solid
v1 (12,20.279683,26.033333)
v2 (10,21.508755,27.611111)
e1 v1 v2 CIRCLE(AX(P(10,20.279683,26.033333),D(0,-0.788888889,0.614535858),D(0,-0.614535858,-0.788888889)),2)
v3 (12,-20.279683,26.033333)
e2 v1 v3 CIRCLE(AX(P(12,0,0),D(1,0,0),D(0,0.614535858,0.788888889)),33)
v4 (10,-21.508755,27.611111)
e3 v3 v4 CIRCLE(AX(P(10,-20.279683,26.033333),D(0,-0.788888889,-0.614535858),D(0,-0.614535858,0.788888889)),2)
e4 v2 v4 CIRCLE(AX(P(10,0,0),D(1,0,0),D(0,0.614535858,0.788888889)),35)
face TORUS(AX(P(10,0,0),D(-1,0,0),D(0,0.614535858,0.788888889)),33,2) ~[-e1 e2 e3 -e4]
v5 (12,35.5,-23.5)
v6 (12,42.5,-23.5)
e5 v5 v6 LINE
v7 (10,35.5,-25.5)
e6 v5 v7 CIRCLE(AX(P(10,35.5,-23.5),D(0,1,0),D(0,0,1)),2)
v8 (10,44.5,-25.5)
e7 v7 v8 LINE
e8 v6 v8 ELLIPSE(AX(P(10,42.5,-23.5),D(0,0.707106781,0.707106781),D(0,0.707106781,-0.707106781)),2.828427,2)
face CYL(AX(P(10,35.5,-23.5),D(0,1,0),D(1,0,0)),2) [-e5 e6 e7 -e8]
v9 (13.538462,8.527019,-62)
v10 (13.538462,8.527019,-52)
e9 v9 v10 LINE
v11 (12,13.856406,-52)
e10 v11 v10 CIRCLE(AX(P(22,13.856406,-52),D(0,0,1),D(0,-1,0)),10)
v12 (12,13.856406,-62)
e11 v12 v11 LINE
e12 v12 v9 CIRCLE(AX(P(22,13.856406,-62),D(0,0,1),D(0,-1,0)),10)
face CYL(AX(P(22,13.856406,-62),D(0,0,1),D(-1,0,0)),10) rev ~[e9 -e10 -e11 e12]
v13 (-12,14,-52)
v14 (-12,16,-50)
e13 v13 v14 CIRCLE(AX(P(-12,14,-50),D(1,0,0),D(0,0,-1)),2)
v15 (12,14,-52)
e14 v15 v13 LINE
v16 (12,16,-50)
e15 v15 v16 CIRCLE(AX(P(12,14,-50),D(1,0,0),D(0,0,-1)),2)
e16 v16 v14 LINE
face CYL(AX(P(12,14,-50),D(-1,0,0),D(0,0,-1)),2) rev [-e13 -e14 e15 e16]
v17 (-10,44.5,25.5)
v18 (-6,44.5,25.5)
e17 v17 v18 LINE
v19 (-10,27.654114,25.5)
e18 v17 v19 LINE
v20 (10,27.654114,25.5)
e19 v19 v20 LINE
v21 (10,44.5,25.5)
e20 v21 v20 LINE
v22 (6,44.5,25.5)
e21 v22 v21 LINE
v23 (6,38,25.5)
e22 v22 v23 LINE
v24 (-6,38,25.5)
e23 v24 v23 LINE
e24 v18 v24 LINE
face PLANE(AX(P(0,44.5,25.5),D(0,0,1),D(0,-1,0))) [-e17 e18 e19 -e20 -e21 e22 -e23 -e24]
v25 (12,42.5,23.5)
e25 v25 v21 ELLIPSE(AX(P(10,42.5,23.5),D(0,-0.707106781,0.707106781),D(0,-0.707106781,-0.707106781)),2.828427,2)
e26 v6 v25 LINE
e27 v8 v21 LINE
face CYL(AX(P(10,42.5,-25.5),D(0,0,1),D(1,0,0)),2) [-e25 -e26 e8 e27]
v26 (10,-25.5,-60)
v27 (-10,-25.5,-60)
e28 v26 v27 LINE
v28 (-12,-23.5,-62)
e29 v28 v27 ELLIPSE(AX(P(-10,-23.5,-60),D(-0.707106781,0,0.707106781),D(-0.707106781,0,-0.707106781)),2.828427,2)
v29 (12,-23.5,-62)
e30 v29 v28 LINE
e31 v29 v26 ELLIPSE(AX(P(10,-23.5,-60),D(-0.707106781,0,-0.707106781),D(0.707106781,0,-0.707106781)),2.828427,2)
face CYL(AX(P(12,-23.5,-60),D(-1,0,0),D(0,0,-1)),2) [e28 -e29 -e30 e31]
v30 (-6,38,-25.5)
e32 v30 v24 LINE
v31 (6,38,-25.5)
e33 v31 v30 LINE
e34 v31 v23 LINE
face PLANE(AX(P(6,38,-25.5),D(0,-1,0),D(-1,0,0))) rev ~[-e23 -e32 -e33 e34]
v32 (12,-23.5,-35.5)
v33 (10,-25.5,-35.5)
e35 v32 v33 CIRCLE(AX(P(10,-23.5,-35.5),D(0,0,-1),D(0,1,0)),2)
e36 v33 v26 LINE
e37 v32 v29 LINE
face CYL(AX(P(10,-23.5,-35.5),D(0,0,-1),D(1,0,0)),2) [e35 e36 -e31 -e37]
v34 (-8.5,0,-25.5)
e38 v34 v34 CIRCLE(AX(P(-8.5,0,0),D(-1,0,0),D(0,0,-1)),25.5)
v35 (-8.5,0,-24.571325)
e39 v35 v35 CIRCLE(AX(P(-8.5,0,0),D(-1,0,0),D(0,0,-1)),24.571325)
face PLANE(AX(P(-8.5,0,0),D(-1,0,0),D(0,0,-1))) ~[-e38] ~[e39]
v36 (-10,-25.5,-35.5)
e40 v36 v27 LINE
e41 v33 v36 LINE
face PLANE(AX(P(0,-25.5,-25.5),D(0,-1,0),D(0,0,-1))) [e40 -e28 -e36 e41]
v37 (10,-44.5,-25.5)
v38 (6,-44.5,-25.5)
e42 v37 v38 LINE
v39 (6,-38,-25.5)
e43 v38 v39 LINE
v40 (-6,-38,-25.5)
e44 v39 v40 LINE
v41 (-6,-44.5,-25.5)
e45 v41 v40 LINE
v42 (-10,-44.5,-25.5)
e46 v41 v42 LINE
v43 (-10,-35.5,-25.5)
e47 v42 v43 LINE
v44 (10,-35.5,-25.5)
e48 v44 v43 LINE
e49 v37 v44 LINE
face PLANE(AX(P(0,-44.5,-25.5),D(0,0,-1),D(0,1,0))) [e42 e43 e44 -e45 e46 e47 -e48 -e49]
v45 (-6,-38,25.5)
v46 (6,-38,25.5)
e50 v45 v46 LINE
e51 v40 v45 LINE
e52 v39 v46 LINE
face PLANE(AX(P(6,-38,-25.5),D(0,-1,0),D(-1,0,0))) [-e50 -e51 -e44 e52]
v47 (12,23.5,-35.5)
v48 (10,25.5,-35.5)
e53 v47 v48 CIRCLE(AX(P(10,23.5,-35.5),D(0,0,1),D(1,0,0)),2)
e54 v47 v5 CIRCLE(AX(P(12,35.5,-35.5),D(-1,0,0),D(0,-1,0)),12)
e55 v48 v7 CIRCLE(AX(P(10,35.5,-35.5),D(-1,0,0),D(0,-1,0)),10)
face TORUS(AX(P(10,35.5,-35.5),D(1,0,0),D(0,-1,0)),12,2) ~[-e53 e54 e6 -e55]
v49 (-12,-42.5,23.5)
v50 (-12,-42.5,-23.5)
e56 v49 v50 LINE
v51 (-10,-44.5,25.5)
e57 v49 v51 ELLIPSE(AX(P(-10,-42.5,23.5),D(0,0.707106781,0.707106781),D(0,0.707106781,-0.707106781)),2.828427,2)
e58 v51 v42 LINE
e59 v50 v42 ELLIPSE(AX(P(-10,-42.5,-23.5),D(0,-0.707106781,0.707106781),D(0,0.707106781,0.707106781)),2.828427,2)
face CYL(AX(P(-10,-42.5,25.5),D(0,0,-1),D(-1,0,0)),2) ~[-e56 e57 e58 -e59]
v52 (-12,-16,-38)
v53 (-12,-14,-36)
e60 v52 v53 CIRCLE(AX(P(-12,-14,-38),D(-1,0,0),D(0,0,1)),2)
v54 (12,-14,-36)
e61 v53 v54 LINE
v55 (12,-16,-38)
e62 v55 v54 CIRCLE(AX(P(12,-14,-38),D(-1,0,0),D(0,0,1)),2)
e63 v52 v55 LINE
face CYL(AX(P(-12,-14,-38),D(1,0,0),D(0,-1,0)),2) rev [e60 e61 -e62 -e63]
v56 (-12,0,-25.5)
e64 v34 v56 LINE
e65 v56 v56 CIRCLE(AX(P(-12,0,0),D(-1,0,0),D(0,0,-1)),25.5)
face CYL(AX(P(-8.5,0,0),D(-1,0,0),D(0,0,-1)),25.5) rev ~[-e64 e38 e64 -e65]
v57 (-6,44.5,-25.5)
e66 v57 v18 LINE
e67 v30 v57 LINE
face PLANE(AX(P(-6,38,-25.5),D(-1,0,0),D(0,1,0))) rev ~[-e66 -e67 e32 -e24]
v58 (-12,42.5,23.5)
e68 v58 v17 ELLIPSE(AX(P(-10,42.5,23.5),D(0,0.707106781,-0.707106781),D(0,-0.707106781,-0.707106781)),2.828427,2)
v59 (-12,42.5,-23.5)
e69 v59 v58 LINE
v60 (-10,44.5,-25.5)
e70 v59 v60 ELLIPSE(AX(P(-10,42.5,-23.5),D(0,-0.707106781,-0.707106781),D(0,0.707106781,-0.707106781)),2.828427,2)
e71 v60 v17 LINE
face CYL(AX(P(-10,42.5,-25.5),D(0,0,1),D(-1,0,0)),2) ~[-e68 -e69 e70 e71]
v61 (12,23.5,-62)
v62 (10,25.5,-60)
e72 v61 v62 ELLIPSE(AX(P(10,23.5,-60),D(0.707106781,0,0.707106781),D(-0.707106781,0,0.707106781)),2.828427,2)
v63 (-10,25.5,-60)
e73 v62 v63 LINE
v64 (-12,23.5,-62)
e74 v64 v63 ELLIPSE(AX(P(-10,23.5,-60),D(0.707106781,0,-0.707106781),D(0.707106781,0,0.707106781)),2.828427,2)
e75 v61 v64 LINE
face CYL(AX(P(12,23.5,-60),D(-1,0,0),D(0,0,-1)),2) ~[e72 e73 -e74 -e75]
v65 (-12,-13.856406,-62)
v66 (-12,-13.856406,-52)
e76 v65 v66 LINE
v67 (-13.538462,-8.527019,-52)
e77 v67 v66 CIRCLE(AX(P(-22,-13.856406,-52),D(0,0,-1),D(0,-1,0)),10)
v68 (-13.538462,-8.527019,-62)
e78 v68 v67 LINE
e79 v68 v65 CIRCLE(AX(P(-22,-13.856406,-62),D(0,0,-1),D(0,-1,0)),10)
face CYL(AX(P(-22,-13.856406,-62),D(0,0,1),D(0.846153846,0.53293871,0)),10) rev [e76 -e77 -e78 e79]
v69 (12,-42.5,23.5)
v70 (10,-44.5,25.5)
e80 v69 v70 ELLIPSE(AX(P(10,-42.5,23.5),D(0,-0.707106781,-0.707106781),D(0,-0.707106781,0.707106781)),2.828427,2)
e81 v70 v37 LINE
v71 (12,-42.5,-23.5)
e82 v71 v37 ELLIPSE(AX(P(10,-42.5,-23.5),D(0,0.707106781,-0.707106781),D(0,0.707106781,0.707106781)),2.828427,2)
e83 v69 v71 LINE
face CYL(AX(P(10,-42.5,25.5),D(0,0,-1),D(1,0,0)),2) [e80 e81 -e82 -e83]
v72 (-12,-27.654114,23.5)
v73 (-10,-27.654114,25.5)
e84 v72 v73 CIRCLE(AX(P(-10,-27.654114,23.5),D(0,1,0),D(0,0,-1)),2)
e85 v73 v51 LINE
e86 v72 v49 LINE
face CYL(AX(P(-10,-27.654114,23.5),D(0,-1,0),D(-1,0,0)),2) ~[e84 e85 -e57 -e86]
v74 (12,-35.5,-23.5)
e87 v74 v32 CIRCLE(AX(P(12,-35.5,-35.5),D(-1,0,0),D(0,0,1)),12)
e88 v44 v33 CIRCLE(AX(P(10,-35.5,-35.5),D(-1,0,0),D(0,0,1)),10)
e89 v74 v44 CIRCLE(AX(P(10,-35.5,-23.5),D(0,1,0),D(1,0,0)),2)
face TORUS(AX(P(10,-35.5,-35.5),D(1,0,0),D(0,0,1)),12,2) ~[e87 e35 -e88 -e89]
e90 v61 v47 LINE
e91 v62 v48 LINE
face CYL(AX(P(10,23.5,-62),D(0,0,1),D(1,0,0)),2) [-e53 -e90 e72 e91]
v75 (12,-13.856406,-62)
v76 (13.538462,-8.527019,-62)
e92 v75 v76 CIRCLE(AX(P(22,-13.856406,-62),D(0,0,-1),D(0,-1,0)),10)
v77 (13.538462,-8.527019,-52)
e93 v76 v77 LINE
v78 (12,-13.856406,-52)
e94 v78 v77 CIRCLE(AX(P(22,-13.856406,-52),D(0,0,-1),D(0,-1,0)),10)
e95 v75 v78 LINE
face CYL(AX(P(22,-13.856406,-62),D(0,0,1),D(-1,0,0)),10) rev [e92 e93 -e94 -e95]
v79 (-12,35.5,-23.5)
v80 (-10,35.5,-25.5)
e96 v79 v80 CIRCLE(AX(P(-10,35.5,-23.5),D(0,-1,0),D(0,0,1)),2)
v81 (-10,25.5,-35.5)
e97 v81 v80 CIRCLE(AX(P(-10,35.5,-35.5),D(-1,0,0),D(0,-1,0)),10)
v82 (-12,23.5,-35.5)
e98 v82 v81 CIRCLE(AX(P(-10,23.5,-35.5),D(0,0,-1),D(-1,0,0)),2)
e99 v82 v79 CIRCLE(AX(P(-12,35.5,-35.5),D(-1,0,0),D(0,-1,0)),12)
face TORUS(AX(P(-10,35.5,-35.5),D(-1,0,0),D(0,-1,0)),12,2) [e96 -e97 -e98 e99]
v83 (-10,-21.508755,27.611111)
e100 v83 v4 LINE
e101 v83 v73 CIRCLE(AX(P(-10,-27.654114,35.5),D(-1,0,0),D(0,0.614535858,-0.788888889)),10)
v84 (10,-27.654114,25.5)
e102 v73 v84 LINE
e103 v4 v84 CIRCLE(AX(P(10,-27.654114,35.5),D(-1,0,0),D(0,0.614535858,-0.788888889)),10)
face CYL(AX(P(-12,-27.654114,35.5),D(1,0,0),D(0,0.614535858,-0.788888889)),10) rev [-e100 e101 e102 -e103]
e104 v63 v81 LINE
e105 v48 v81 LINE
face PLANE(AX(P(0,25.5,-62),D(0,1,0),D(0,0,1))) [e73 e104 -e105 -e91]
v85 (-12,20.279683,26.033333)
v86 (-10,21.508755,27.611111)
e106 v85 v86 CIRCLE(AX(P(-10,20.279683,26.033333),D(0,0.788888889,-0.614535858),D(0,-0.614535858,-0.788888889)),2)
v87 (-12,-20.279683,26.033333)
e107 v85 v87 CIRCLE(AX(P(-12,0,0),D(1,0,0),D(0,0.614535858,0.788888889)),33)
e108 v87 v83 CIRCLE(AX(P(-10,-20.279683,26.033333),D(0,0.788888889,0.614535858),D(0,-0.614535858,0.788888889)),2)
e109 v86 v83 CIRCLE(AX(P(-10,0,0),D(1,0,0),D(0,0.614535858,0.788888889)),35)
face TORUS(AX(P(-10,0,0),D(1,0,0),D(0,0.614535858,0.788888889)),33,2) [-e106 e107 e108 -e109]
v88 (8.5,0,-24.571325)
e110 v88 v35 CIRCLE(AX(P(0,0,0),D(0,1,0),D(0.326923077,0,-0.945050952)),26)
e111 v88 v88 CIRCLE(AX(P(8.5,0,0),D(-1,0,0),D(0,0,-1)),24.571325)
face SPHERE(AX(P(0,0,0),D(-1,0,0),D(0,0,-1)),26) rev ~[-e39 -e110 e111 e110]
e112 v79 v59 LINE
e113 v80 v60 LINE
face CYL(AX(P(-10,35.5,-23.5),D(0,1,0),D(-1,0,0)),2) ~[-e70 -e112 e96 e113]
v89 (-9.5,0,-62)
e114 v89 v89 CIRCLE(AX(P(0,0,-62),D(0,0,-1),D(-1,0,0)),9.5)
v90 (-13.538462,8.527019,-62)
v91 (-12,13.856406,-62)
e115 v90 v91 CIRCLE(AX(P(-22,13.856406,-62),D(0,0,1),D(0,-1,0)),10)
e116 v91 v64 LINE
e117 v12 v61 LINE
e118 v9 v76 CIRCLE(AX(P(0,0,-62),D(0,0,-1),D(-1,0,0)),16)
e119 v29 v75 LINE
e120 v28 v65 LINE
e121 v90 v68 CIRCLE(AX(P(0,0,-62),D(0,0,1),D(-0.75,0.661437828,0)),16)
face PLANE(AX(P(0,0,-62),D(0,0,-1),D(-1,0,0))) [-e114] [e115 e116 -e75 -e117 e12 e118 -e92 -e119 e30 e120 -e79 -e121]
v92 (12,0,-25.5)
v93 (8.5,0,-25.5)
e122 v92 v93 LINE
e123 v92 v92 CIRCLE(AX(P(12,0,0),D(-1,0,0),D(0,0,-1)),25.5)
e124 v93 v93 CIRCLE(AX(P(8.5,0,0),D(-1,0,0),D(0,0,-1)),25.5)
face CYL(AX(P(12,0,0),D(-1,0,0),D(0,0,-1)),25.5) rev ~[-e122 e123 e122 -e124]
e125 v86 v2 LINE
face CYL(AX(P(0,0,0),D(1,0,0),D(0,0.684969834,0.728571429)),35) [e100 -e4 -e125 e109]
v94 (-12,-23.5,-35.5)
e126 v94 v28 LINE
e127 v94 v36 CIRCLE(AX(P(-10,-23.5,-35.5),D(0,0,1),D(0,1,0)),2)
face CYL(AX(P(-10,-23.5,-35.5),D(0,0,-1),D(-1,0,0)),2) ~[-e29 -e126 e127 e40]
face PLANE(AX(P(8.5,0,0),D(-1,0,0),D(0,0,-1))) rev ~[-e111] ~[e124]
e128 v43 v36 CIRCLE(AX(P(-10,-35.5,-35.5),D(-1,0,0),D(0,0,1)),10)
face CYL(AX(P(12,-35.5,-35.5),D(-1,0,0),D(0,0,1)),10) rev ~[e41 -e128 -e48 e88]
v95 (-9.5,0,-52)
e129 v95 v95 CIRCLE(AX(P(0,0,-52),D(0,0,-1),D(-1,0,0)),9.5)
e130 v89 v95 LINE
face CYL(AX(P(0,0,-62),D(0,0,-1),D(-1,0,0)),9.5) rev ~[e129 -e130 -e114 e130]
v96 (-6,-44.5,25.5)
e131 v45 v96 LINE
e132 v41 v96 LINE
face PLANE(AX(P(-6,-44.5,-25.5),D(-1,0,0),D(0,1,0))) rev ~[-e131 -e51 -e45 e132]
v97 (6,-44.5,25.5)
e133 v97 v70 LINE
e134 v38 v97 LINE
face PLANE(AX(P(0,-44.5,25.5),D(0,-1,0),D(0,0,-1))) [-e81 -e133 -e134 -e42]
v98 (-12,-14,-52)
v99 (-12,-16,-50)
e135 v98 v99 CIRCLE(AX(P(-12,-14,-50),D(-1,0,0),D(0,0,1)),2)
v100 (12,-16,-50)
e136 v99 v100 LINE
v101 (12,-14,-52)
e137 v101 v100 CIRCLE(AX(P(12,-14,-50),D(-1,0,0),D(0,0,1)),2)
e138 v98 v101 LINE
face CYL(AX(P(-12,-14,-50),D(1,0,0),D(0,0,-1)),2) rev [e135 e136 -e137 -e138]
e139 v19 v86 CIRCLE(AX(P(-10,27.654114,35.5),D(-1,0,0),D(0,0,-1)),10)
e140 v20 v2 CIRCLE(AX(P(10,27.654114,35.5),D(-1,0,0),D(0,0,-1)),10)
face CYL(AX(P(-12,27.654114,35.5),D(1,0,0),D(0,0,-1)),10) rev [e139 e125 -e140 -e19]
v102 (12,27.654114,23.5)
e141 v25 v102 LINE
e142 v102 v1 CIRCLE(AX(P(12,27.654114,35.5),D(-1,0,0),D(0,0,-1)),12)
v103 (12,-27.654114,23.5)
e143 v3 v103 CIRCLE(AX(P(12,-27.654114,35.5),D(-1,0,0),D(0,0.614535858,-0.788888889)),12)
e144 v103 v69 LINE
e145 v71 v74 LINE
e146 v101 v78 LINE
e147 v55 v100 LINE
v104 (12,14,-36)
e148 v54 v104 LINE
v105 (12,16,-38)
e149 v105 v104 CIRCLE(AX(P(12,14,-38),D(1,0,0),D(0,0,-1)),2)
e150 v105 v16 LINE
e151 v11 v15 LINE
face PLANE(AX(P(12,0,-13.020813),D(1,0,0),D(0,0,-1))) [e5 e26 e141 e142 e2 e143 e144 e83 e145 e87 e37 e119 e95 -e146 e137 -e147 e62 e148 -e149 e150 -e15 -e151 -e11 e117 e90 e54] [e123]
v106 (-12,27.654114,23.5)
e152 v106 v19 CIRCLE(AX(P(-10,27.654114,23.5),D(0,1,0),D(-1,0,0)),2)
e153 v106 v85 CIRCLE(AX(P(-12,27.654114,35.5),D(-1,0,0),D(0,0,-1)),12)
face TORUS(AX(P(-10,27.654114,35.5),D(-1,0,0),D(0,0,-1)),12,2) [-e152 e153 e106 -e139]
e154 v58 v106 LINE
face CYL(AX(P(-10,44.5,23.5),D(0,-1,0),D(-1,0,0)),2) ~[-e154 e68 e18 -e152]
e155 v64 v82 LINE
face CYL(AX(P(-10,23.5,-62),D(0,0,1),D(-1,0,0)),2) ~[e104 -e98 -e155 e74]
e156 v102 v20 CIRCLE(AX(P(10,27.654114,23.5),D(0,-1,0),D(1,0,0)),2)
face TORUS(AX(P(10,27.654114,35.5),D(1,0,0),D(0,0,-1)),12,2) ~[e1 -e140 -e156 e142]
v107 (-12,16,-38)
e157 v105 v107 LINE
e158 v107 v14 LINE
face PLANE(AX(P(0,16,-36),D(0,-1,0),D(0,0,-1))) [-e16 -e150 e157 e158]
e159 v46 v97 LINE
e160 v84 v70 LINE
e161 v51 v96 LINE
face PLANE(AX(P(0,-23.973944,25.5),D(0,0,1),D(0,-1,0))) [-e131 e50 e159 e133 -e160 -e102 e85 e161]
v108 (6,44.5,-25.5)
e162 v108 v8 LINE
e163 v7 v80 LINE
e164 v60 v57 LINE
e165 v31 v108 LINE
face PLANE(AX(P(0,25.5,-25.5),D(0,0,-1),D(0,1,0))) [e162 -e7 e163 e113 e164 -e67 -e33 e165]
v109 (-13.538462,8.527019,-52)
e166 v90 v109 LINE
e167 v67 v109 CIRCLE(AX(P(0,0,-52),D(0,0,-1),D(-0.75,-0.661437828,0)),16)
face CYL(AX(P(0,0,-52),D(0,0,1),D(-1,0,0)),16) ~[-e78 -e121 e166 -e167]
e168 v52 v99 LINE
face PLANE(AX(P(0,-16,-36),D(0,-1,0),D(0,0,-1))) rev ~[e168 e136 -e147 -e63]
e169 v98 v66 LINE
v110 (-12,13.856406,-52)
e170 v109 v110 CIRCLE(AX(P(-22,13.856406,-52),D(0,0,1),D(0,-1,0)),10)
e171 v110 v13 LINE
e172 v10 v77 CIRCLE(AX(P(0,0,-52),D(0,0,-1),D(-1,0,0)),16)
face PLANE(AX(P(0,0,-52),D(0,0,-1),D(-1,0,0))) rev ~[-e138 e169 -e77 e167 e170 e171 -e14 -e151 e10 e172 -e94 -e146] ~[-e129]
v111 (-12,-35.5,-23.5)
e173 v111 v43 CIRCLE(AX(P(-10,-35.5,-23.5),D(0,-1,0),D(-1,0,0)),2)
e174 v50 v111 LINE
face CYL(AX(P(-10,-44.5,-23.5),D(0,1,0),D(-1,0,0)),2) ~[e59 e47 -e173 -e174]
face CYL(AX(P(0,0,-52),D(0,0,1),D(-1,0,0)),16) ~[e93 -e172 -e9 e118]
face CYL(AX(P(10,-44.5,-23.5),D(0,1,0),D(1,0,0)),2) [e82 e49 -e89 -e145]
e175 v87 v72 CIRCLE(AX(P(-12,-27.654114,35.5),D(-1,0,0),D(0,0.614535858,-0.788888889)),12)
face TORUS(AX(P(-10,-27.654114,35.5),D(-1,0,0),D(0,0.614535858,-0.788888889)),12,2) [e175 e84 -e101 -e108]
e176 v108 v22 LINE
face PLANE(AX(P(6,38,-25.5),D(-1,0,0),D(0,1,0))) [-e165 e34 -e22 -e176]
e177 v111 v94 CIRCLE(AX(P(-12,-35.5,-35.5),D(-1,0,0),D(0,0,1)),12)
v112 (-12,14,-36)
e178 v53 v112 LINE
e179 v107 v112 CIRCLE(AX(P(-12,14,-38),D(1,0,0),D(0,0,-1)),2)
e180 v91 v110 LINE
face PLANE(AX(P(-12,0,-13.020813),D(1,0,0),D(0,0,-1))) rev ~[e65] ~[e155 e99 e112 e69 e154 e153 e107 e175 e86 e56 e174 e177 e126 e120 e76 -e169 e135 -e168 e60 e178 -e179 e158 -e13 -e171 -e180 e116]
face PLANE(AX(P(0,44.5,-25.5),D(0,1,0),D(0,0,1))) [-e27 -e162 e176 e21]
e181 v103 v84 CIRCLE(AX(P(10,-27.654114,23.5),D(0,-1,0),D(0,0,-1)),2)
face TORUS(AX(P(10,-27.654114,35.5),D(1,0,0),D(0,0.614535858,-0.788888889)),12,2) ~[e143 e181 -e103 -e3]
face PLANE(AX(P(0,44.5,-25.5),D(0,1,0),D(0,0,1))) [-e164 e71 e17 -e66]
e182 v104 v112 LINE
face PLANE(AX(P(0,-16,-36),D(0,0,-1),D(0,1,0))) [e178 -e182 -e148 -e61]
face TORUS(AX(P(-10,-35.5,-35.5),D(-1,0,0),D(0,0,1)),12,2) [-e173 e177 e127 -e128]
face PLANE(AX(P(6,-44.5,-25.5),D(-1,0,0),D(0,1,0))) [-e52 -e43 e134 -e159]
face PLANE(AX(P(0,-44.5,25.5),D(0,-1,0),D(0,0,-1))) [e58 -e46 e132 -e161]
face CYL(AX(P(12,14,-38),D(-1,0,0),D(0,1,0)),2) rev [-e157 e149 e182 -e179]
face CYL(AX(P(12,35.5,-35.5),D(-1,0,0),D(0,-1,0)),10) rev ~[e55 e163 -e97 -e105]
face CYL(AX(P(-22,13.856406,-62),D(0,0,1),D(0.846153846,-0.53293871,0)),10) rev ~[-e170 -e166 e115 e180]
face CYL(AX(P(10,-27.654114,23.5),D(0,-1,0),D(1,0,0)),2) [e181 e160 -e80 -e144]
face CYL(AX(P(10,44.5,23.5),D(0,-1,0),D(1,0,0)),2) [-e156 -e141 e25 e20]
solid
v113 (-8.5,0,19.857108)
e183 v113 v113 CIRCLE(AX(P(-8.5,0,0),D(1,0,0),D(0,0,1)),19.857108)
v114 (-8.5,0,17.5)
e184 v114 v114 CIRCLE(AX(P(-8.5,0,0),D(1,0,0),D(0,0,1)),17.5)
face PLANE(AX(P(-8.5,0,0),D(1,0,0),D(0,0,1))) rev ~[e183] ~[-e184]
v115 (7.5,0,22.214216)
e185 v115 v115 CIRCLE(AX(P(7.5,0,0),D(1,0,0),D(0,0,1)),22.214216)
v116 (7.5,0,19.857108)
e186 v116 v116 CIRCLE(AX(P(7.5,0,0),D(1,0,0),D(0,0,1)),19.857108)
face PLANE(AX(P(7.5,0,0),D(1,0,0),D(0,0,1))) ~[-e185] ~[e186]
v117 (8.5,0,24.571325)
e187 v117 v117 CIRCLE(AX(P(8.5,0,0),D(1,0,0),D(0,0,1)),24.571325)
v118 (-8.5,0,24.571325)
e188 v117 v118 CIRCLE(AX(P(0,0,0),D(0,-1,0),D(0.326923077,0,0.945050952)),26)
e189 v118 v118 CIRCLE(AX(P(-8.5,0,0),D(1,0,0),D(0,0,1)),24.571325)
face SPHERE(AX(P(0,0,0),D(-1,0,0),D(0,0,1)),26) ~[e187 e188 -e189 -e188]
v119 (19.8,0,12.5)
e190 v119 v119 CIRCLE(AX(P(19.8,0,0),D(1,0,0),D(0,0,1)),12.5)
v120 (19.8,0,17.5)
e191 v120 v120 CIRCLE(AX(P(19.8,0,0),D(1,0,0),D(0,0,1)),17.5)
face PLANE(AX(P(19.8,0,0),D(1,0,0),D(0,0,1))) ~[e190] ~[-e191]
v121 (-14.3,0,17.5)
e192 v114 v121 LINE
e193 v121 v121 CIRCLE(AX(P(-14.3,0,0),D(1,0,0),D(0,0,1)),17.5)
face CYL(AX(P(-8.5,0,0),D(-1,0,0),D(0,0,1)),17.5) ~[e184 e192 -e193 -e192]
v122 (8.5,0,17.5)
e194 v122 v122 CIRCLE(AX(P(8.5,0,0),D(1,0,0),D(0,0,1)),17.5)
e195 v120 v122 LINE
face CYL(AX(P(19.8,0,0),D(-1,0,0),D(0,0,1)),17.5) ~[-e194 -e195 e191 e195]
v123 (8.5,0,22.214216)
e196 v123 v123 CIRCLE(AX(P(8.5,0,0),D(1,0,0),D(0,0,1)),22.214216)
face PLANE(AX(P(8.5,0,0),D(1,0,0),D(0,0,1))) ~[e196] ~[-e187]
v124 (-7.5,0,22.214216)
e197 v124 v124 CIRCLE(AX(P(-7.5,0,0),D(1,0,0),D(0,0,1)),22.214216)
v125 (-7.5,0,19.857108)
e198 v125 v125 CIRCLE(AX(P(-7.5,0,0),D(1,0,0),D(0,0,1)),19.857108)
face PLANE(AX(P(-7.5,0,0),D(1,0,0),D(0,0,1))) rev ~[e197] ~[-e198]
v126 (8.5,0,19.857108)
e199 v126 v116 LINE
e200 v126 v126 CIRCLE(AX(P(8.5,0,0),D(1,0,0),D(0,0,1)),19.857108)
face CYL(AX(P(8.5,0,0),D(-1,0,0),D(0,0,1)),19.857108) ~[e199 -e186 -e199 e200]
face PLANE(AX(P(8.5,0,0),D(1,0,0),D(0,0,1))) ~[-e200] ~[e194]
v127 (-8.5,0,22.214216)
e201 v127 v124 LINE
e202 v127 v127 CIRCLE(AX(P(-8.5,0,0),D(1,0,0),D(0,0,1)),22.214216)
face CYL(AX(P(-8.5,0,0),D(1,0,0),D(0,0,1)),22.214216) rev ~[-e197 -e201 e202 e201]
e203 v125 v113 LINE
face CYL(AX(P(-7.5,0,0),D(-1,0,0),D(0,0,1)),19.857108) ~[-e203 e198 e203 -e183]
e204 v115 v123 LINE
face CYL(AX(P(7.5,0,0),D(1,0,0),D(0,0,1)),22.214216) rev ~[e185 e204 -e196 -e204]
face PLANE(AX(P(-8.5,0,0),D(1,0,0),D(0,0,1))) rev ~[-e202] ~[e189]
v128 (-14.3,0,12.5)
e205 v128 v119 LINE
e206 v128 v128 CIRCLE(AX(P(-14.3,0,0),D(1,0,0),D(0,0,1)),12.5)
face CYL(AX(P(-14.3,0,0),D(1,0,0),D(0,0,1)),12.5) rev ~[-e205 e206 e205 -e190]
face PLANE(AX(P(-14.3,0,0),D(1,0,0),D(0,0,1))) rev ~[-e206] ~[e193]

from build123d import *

# Parameters (mm, degrees)
SKETCH1_W      = 16
SKETCH1_H      = 32
EXTRUDE1_DEPTH = 12
EXTRUDE2_START = -10
SKETCH2_R      = 16
EXTRUDE2_DEPTH = 10
EXTRUDE3_REACH = 109.913
SKETCH3_R      = 9.5
SKETCH4_W      = 12
SKETCH4_H      = 6.5
EXTRUDE4_DEPTH = 77.788671039
FILLET1_R      = 10
FILLET2_R      = 2


with BuildPart() as part:
    # Sketch1 → Extrude1 (new, symmetric)
    with BuildSketch(Plane(origin=(0, 0, 0), x_dir=(0, 0, -1), z_dir=(1, 0, 0))):
        with BuildLine():
            Line((25.5, 25.5), (25.5, 44.5))
            Line((25.5, 44.5), (-25.5, 44.5))
            Line((-25.5, 44.5), (-25.5, 23.973944189))
            ThreePointArc((-25.5, 23.973944189), (-35, 0), (-25.5, -23.973944189))
            Line((-25.5, -23.973944189), (-25.5, -44.5))
            Line((-25.5, -44.5), (25.5, -44.5))
            Line((25.5, -44.5), (25.5, -25.5))
            Line((25.5, -25.5), (62, -25.5))
            Line((62, -25.5), (62, 25.5))
            Line((62, 25.5), (25.5, 25.5))
        make_face()
        with Locations((44, 0)):
            Rectangle(SKETCH1_W, SKETCH1_H, mode=Mode.SUBTRACT)
    extrude(amount=EXTRUDE1_DEPTH, both=True)

    # Sketch2 → Extrude2 (add)
    with BuildSketch(Plane(origin=(0, 0, -62), x_dir=(-1, 0, 0), z_dir=(0, 0, -1)).offset(EXTRUDE2_START)):
        Circle(SKETCH2_R)
    extrude(amount=EXTRUDE2_DEPTH)

    # Sketch3 → Extrude3 (cut, up to next)
    with BuildSketch(Plane(origin=(0, 0, -62), x_dir=(-1, 0, 0), z_dir=(0, 0, -1)), mode=Mode.PRIVATE) as extrude3_sk1:
        Circle(SKETCH3_R)
    extrude3_tool1 = extrude(extrude3_sk1.sketch, amount=-EXTRUDE3_REACH, mode=Mode.PRIVATE) & part.part
    add(extrude3_tool1.solids().sort_by_distance((0, 0, -62))[0], mode=Mode.SUBTRACT)

    # Sketch4 → Extrude4 (cut, through all)
    with BuildSketch(Plane(origin=(0, 0, -25.5), x_dir=(-1, 0, 0), z_dir=(0, 0, -1))):
        with Locations((0, 41.25)):
            Rectangle(SKETCH4_W, SKETCH4_H)
        with Locations((0, -41.25)):
            Rectangle(SKETCH4_W, SKETCH4_H)
    extrude(amount=-EXTRUDE4_DEPTH, mode=Mode.SUBTRACT)

    # Sketch5 → Cut-Revolve1 (revolve, cut)
    with BuildSketch(Plane.XY, mode=Mode.PRIVATE) as cut_revolve1_sk:
        with BuildLine():
            Line((8.5, 25.5), (8.5, 24.571324751))
            ThreePointArc((8.5, 24.571324751), (0, 26), (-8.5, 24.571324751))
            Line((-8.5, 24.571324751), (-8.5, 25.5))
            Line((-8.5, 25.5), (-12, 25.5))
            Line((-12, 25.5), (-12, 0))
            Line((-12, 0), (12, 0))
            Line((12, 0), (12, 25.5))
            Line((12, 25.5), (8.5, 25.5))
        make_face()
    revolve(cut_revolve1_sk.sketch.rotate(Axis((19.865799579, 0, 0), (-1, 0, 0)), 90), axis=Axis((19.865799579, 0, 0), (-1, 0, 0)), mode=Mode.SUBTRACT)

    # Fillet1
    fillet1_edges = [part.edges().sort_by_distance(p)[0] for p in [
        (0, 25.5, -25.5),
        (0, -25.5, -25.5),
        (0, -23.973944189, 25.5),
        (0, 23.973944189, 25.5),
        (-12, -10.583005244, -57),
        (-12, 10.583005244, -57),
        (12, -10.583005244, -57),
        (12, 10.583005244, -57),
    ]]
    fillet(fillet1_edges, radius=FILLET1_R)

    # Fillet2
    fillet2_edges = [part.edges().sort_by_distance(p)[0] for p in [
        (-12, -40, -25.5),
        (-12, -44.5, 0),
        (12, -36.077056809, 25.5),
        (-12, -36.077056809, 25.5),
        (-12, 0, 35),
        (12, 0, 35),
        (-12, -25.5, -48.75),
        (12, -25.5, -48.75),
        (12, 40, -25.5),
        (-12, 40, -25.5),
        (-12, 36.077056809, 25.5),
        (-12, 44.5, 0),
        (-12, -24.40518217, 26.042492694),
        (12, -24.40518217, 26.042492694),
        (-12, 24.40518217, 26.042492694),
        (12, 24.40518217, 26.042492694),
        (-12, -28.428932188, -28.428932188),
        (12, -28.428932188, -28.428932188),
        (-12, 28.428932188, -28.428932188),
        (12, 28.428932188, -28.428932188),
        (12, -44.5, 0),
        (0, 25.5, -62),
        (0, -25.5, -62),
        (12, -40, -25.5),
        (12, 25.5, -48.75),
        (0, -16, -52),
        (0, 16, -52),
        (0, 16, -36),
        (0, -16, -36),
        (12, 44.5, 0),
        (12, 36.077056809, 25.5),
        (-12, 25.5, -48.75),
    ]]
    fillet(fillet2_edges, radius=FILLET2_R)


with BuildPart() as body_2:
    # Sketch7 → Revolve1 (revolve)
    with BuildSketch(Plane.XY, mode=Mode.PRIVATE) as revolve1_sk:
        with BuildLine():
            Line((-8.5, 24.571324751), (-8.5, 22.2142165))
            Line((-8.5, 22.2142165), (-7.5, 22.2142165))
            Line((-7.5, 22.2142165), (-7.5, 19.85710825))
            Line((-7.5, 19.85710825), (-8.5, 19.85710825))
            Line((-8.5, 19.85710825), (-8.5, 17.5))
            Line((-8.5, 17.5), (-14.3, 17.5))
            Line((-14.3, 17.5), (-14.3, 12.5))
            Line((-14.3, 12.5), (19.8, 12.5))
            Line((19.8, 12.5), (19.8, 17.5))
            Line((19.8, 17.5), (8.5, 17.5))
            Line((8.5, 17.5), (8.5, 19.85710825))
            Line((8.5, 19.85710825), (7.5, 19.85710825))
            Line((7.5, 19.85710825), (7.5, 22.2142165))
            Line((7.5, 22.2142165), (8.5, 22.2142165))
            Line((8.5, 22.2142165), (8.5, 24.571324751))
            ThreePointArc((8.5, 24.571324751), (0, 26), (-8.5, 24.571324751))
        make_face()
    revolve(revolve1_sk.sketch.rotate(Axis((0, 0, 0), (1, 0, 0)), 90), axis=Axis((0, 0, 0), (1, 0, 0)))


solid = Compound([part.part, body_2.part])
